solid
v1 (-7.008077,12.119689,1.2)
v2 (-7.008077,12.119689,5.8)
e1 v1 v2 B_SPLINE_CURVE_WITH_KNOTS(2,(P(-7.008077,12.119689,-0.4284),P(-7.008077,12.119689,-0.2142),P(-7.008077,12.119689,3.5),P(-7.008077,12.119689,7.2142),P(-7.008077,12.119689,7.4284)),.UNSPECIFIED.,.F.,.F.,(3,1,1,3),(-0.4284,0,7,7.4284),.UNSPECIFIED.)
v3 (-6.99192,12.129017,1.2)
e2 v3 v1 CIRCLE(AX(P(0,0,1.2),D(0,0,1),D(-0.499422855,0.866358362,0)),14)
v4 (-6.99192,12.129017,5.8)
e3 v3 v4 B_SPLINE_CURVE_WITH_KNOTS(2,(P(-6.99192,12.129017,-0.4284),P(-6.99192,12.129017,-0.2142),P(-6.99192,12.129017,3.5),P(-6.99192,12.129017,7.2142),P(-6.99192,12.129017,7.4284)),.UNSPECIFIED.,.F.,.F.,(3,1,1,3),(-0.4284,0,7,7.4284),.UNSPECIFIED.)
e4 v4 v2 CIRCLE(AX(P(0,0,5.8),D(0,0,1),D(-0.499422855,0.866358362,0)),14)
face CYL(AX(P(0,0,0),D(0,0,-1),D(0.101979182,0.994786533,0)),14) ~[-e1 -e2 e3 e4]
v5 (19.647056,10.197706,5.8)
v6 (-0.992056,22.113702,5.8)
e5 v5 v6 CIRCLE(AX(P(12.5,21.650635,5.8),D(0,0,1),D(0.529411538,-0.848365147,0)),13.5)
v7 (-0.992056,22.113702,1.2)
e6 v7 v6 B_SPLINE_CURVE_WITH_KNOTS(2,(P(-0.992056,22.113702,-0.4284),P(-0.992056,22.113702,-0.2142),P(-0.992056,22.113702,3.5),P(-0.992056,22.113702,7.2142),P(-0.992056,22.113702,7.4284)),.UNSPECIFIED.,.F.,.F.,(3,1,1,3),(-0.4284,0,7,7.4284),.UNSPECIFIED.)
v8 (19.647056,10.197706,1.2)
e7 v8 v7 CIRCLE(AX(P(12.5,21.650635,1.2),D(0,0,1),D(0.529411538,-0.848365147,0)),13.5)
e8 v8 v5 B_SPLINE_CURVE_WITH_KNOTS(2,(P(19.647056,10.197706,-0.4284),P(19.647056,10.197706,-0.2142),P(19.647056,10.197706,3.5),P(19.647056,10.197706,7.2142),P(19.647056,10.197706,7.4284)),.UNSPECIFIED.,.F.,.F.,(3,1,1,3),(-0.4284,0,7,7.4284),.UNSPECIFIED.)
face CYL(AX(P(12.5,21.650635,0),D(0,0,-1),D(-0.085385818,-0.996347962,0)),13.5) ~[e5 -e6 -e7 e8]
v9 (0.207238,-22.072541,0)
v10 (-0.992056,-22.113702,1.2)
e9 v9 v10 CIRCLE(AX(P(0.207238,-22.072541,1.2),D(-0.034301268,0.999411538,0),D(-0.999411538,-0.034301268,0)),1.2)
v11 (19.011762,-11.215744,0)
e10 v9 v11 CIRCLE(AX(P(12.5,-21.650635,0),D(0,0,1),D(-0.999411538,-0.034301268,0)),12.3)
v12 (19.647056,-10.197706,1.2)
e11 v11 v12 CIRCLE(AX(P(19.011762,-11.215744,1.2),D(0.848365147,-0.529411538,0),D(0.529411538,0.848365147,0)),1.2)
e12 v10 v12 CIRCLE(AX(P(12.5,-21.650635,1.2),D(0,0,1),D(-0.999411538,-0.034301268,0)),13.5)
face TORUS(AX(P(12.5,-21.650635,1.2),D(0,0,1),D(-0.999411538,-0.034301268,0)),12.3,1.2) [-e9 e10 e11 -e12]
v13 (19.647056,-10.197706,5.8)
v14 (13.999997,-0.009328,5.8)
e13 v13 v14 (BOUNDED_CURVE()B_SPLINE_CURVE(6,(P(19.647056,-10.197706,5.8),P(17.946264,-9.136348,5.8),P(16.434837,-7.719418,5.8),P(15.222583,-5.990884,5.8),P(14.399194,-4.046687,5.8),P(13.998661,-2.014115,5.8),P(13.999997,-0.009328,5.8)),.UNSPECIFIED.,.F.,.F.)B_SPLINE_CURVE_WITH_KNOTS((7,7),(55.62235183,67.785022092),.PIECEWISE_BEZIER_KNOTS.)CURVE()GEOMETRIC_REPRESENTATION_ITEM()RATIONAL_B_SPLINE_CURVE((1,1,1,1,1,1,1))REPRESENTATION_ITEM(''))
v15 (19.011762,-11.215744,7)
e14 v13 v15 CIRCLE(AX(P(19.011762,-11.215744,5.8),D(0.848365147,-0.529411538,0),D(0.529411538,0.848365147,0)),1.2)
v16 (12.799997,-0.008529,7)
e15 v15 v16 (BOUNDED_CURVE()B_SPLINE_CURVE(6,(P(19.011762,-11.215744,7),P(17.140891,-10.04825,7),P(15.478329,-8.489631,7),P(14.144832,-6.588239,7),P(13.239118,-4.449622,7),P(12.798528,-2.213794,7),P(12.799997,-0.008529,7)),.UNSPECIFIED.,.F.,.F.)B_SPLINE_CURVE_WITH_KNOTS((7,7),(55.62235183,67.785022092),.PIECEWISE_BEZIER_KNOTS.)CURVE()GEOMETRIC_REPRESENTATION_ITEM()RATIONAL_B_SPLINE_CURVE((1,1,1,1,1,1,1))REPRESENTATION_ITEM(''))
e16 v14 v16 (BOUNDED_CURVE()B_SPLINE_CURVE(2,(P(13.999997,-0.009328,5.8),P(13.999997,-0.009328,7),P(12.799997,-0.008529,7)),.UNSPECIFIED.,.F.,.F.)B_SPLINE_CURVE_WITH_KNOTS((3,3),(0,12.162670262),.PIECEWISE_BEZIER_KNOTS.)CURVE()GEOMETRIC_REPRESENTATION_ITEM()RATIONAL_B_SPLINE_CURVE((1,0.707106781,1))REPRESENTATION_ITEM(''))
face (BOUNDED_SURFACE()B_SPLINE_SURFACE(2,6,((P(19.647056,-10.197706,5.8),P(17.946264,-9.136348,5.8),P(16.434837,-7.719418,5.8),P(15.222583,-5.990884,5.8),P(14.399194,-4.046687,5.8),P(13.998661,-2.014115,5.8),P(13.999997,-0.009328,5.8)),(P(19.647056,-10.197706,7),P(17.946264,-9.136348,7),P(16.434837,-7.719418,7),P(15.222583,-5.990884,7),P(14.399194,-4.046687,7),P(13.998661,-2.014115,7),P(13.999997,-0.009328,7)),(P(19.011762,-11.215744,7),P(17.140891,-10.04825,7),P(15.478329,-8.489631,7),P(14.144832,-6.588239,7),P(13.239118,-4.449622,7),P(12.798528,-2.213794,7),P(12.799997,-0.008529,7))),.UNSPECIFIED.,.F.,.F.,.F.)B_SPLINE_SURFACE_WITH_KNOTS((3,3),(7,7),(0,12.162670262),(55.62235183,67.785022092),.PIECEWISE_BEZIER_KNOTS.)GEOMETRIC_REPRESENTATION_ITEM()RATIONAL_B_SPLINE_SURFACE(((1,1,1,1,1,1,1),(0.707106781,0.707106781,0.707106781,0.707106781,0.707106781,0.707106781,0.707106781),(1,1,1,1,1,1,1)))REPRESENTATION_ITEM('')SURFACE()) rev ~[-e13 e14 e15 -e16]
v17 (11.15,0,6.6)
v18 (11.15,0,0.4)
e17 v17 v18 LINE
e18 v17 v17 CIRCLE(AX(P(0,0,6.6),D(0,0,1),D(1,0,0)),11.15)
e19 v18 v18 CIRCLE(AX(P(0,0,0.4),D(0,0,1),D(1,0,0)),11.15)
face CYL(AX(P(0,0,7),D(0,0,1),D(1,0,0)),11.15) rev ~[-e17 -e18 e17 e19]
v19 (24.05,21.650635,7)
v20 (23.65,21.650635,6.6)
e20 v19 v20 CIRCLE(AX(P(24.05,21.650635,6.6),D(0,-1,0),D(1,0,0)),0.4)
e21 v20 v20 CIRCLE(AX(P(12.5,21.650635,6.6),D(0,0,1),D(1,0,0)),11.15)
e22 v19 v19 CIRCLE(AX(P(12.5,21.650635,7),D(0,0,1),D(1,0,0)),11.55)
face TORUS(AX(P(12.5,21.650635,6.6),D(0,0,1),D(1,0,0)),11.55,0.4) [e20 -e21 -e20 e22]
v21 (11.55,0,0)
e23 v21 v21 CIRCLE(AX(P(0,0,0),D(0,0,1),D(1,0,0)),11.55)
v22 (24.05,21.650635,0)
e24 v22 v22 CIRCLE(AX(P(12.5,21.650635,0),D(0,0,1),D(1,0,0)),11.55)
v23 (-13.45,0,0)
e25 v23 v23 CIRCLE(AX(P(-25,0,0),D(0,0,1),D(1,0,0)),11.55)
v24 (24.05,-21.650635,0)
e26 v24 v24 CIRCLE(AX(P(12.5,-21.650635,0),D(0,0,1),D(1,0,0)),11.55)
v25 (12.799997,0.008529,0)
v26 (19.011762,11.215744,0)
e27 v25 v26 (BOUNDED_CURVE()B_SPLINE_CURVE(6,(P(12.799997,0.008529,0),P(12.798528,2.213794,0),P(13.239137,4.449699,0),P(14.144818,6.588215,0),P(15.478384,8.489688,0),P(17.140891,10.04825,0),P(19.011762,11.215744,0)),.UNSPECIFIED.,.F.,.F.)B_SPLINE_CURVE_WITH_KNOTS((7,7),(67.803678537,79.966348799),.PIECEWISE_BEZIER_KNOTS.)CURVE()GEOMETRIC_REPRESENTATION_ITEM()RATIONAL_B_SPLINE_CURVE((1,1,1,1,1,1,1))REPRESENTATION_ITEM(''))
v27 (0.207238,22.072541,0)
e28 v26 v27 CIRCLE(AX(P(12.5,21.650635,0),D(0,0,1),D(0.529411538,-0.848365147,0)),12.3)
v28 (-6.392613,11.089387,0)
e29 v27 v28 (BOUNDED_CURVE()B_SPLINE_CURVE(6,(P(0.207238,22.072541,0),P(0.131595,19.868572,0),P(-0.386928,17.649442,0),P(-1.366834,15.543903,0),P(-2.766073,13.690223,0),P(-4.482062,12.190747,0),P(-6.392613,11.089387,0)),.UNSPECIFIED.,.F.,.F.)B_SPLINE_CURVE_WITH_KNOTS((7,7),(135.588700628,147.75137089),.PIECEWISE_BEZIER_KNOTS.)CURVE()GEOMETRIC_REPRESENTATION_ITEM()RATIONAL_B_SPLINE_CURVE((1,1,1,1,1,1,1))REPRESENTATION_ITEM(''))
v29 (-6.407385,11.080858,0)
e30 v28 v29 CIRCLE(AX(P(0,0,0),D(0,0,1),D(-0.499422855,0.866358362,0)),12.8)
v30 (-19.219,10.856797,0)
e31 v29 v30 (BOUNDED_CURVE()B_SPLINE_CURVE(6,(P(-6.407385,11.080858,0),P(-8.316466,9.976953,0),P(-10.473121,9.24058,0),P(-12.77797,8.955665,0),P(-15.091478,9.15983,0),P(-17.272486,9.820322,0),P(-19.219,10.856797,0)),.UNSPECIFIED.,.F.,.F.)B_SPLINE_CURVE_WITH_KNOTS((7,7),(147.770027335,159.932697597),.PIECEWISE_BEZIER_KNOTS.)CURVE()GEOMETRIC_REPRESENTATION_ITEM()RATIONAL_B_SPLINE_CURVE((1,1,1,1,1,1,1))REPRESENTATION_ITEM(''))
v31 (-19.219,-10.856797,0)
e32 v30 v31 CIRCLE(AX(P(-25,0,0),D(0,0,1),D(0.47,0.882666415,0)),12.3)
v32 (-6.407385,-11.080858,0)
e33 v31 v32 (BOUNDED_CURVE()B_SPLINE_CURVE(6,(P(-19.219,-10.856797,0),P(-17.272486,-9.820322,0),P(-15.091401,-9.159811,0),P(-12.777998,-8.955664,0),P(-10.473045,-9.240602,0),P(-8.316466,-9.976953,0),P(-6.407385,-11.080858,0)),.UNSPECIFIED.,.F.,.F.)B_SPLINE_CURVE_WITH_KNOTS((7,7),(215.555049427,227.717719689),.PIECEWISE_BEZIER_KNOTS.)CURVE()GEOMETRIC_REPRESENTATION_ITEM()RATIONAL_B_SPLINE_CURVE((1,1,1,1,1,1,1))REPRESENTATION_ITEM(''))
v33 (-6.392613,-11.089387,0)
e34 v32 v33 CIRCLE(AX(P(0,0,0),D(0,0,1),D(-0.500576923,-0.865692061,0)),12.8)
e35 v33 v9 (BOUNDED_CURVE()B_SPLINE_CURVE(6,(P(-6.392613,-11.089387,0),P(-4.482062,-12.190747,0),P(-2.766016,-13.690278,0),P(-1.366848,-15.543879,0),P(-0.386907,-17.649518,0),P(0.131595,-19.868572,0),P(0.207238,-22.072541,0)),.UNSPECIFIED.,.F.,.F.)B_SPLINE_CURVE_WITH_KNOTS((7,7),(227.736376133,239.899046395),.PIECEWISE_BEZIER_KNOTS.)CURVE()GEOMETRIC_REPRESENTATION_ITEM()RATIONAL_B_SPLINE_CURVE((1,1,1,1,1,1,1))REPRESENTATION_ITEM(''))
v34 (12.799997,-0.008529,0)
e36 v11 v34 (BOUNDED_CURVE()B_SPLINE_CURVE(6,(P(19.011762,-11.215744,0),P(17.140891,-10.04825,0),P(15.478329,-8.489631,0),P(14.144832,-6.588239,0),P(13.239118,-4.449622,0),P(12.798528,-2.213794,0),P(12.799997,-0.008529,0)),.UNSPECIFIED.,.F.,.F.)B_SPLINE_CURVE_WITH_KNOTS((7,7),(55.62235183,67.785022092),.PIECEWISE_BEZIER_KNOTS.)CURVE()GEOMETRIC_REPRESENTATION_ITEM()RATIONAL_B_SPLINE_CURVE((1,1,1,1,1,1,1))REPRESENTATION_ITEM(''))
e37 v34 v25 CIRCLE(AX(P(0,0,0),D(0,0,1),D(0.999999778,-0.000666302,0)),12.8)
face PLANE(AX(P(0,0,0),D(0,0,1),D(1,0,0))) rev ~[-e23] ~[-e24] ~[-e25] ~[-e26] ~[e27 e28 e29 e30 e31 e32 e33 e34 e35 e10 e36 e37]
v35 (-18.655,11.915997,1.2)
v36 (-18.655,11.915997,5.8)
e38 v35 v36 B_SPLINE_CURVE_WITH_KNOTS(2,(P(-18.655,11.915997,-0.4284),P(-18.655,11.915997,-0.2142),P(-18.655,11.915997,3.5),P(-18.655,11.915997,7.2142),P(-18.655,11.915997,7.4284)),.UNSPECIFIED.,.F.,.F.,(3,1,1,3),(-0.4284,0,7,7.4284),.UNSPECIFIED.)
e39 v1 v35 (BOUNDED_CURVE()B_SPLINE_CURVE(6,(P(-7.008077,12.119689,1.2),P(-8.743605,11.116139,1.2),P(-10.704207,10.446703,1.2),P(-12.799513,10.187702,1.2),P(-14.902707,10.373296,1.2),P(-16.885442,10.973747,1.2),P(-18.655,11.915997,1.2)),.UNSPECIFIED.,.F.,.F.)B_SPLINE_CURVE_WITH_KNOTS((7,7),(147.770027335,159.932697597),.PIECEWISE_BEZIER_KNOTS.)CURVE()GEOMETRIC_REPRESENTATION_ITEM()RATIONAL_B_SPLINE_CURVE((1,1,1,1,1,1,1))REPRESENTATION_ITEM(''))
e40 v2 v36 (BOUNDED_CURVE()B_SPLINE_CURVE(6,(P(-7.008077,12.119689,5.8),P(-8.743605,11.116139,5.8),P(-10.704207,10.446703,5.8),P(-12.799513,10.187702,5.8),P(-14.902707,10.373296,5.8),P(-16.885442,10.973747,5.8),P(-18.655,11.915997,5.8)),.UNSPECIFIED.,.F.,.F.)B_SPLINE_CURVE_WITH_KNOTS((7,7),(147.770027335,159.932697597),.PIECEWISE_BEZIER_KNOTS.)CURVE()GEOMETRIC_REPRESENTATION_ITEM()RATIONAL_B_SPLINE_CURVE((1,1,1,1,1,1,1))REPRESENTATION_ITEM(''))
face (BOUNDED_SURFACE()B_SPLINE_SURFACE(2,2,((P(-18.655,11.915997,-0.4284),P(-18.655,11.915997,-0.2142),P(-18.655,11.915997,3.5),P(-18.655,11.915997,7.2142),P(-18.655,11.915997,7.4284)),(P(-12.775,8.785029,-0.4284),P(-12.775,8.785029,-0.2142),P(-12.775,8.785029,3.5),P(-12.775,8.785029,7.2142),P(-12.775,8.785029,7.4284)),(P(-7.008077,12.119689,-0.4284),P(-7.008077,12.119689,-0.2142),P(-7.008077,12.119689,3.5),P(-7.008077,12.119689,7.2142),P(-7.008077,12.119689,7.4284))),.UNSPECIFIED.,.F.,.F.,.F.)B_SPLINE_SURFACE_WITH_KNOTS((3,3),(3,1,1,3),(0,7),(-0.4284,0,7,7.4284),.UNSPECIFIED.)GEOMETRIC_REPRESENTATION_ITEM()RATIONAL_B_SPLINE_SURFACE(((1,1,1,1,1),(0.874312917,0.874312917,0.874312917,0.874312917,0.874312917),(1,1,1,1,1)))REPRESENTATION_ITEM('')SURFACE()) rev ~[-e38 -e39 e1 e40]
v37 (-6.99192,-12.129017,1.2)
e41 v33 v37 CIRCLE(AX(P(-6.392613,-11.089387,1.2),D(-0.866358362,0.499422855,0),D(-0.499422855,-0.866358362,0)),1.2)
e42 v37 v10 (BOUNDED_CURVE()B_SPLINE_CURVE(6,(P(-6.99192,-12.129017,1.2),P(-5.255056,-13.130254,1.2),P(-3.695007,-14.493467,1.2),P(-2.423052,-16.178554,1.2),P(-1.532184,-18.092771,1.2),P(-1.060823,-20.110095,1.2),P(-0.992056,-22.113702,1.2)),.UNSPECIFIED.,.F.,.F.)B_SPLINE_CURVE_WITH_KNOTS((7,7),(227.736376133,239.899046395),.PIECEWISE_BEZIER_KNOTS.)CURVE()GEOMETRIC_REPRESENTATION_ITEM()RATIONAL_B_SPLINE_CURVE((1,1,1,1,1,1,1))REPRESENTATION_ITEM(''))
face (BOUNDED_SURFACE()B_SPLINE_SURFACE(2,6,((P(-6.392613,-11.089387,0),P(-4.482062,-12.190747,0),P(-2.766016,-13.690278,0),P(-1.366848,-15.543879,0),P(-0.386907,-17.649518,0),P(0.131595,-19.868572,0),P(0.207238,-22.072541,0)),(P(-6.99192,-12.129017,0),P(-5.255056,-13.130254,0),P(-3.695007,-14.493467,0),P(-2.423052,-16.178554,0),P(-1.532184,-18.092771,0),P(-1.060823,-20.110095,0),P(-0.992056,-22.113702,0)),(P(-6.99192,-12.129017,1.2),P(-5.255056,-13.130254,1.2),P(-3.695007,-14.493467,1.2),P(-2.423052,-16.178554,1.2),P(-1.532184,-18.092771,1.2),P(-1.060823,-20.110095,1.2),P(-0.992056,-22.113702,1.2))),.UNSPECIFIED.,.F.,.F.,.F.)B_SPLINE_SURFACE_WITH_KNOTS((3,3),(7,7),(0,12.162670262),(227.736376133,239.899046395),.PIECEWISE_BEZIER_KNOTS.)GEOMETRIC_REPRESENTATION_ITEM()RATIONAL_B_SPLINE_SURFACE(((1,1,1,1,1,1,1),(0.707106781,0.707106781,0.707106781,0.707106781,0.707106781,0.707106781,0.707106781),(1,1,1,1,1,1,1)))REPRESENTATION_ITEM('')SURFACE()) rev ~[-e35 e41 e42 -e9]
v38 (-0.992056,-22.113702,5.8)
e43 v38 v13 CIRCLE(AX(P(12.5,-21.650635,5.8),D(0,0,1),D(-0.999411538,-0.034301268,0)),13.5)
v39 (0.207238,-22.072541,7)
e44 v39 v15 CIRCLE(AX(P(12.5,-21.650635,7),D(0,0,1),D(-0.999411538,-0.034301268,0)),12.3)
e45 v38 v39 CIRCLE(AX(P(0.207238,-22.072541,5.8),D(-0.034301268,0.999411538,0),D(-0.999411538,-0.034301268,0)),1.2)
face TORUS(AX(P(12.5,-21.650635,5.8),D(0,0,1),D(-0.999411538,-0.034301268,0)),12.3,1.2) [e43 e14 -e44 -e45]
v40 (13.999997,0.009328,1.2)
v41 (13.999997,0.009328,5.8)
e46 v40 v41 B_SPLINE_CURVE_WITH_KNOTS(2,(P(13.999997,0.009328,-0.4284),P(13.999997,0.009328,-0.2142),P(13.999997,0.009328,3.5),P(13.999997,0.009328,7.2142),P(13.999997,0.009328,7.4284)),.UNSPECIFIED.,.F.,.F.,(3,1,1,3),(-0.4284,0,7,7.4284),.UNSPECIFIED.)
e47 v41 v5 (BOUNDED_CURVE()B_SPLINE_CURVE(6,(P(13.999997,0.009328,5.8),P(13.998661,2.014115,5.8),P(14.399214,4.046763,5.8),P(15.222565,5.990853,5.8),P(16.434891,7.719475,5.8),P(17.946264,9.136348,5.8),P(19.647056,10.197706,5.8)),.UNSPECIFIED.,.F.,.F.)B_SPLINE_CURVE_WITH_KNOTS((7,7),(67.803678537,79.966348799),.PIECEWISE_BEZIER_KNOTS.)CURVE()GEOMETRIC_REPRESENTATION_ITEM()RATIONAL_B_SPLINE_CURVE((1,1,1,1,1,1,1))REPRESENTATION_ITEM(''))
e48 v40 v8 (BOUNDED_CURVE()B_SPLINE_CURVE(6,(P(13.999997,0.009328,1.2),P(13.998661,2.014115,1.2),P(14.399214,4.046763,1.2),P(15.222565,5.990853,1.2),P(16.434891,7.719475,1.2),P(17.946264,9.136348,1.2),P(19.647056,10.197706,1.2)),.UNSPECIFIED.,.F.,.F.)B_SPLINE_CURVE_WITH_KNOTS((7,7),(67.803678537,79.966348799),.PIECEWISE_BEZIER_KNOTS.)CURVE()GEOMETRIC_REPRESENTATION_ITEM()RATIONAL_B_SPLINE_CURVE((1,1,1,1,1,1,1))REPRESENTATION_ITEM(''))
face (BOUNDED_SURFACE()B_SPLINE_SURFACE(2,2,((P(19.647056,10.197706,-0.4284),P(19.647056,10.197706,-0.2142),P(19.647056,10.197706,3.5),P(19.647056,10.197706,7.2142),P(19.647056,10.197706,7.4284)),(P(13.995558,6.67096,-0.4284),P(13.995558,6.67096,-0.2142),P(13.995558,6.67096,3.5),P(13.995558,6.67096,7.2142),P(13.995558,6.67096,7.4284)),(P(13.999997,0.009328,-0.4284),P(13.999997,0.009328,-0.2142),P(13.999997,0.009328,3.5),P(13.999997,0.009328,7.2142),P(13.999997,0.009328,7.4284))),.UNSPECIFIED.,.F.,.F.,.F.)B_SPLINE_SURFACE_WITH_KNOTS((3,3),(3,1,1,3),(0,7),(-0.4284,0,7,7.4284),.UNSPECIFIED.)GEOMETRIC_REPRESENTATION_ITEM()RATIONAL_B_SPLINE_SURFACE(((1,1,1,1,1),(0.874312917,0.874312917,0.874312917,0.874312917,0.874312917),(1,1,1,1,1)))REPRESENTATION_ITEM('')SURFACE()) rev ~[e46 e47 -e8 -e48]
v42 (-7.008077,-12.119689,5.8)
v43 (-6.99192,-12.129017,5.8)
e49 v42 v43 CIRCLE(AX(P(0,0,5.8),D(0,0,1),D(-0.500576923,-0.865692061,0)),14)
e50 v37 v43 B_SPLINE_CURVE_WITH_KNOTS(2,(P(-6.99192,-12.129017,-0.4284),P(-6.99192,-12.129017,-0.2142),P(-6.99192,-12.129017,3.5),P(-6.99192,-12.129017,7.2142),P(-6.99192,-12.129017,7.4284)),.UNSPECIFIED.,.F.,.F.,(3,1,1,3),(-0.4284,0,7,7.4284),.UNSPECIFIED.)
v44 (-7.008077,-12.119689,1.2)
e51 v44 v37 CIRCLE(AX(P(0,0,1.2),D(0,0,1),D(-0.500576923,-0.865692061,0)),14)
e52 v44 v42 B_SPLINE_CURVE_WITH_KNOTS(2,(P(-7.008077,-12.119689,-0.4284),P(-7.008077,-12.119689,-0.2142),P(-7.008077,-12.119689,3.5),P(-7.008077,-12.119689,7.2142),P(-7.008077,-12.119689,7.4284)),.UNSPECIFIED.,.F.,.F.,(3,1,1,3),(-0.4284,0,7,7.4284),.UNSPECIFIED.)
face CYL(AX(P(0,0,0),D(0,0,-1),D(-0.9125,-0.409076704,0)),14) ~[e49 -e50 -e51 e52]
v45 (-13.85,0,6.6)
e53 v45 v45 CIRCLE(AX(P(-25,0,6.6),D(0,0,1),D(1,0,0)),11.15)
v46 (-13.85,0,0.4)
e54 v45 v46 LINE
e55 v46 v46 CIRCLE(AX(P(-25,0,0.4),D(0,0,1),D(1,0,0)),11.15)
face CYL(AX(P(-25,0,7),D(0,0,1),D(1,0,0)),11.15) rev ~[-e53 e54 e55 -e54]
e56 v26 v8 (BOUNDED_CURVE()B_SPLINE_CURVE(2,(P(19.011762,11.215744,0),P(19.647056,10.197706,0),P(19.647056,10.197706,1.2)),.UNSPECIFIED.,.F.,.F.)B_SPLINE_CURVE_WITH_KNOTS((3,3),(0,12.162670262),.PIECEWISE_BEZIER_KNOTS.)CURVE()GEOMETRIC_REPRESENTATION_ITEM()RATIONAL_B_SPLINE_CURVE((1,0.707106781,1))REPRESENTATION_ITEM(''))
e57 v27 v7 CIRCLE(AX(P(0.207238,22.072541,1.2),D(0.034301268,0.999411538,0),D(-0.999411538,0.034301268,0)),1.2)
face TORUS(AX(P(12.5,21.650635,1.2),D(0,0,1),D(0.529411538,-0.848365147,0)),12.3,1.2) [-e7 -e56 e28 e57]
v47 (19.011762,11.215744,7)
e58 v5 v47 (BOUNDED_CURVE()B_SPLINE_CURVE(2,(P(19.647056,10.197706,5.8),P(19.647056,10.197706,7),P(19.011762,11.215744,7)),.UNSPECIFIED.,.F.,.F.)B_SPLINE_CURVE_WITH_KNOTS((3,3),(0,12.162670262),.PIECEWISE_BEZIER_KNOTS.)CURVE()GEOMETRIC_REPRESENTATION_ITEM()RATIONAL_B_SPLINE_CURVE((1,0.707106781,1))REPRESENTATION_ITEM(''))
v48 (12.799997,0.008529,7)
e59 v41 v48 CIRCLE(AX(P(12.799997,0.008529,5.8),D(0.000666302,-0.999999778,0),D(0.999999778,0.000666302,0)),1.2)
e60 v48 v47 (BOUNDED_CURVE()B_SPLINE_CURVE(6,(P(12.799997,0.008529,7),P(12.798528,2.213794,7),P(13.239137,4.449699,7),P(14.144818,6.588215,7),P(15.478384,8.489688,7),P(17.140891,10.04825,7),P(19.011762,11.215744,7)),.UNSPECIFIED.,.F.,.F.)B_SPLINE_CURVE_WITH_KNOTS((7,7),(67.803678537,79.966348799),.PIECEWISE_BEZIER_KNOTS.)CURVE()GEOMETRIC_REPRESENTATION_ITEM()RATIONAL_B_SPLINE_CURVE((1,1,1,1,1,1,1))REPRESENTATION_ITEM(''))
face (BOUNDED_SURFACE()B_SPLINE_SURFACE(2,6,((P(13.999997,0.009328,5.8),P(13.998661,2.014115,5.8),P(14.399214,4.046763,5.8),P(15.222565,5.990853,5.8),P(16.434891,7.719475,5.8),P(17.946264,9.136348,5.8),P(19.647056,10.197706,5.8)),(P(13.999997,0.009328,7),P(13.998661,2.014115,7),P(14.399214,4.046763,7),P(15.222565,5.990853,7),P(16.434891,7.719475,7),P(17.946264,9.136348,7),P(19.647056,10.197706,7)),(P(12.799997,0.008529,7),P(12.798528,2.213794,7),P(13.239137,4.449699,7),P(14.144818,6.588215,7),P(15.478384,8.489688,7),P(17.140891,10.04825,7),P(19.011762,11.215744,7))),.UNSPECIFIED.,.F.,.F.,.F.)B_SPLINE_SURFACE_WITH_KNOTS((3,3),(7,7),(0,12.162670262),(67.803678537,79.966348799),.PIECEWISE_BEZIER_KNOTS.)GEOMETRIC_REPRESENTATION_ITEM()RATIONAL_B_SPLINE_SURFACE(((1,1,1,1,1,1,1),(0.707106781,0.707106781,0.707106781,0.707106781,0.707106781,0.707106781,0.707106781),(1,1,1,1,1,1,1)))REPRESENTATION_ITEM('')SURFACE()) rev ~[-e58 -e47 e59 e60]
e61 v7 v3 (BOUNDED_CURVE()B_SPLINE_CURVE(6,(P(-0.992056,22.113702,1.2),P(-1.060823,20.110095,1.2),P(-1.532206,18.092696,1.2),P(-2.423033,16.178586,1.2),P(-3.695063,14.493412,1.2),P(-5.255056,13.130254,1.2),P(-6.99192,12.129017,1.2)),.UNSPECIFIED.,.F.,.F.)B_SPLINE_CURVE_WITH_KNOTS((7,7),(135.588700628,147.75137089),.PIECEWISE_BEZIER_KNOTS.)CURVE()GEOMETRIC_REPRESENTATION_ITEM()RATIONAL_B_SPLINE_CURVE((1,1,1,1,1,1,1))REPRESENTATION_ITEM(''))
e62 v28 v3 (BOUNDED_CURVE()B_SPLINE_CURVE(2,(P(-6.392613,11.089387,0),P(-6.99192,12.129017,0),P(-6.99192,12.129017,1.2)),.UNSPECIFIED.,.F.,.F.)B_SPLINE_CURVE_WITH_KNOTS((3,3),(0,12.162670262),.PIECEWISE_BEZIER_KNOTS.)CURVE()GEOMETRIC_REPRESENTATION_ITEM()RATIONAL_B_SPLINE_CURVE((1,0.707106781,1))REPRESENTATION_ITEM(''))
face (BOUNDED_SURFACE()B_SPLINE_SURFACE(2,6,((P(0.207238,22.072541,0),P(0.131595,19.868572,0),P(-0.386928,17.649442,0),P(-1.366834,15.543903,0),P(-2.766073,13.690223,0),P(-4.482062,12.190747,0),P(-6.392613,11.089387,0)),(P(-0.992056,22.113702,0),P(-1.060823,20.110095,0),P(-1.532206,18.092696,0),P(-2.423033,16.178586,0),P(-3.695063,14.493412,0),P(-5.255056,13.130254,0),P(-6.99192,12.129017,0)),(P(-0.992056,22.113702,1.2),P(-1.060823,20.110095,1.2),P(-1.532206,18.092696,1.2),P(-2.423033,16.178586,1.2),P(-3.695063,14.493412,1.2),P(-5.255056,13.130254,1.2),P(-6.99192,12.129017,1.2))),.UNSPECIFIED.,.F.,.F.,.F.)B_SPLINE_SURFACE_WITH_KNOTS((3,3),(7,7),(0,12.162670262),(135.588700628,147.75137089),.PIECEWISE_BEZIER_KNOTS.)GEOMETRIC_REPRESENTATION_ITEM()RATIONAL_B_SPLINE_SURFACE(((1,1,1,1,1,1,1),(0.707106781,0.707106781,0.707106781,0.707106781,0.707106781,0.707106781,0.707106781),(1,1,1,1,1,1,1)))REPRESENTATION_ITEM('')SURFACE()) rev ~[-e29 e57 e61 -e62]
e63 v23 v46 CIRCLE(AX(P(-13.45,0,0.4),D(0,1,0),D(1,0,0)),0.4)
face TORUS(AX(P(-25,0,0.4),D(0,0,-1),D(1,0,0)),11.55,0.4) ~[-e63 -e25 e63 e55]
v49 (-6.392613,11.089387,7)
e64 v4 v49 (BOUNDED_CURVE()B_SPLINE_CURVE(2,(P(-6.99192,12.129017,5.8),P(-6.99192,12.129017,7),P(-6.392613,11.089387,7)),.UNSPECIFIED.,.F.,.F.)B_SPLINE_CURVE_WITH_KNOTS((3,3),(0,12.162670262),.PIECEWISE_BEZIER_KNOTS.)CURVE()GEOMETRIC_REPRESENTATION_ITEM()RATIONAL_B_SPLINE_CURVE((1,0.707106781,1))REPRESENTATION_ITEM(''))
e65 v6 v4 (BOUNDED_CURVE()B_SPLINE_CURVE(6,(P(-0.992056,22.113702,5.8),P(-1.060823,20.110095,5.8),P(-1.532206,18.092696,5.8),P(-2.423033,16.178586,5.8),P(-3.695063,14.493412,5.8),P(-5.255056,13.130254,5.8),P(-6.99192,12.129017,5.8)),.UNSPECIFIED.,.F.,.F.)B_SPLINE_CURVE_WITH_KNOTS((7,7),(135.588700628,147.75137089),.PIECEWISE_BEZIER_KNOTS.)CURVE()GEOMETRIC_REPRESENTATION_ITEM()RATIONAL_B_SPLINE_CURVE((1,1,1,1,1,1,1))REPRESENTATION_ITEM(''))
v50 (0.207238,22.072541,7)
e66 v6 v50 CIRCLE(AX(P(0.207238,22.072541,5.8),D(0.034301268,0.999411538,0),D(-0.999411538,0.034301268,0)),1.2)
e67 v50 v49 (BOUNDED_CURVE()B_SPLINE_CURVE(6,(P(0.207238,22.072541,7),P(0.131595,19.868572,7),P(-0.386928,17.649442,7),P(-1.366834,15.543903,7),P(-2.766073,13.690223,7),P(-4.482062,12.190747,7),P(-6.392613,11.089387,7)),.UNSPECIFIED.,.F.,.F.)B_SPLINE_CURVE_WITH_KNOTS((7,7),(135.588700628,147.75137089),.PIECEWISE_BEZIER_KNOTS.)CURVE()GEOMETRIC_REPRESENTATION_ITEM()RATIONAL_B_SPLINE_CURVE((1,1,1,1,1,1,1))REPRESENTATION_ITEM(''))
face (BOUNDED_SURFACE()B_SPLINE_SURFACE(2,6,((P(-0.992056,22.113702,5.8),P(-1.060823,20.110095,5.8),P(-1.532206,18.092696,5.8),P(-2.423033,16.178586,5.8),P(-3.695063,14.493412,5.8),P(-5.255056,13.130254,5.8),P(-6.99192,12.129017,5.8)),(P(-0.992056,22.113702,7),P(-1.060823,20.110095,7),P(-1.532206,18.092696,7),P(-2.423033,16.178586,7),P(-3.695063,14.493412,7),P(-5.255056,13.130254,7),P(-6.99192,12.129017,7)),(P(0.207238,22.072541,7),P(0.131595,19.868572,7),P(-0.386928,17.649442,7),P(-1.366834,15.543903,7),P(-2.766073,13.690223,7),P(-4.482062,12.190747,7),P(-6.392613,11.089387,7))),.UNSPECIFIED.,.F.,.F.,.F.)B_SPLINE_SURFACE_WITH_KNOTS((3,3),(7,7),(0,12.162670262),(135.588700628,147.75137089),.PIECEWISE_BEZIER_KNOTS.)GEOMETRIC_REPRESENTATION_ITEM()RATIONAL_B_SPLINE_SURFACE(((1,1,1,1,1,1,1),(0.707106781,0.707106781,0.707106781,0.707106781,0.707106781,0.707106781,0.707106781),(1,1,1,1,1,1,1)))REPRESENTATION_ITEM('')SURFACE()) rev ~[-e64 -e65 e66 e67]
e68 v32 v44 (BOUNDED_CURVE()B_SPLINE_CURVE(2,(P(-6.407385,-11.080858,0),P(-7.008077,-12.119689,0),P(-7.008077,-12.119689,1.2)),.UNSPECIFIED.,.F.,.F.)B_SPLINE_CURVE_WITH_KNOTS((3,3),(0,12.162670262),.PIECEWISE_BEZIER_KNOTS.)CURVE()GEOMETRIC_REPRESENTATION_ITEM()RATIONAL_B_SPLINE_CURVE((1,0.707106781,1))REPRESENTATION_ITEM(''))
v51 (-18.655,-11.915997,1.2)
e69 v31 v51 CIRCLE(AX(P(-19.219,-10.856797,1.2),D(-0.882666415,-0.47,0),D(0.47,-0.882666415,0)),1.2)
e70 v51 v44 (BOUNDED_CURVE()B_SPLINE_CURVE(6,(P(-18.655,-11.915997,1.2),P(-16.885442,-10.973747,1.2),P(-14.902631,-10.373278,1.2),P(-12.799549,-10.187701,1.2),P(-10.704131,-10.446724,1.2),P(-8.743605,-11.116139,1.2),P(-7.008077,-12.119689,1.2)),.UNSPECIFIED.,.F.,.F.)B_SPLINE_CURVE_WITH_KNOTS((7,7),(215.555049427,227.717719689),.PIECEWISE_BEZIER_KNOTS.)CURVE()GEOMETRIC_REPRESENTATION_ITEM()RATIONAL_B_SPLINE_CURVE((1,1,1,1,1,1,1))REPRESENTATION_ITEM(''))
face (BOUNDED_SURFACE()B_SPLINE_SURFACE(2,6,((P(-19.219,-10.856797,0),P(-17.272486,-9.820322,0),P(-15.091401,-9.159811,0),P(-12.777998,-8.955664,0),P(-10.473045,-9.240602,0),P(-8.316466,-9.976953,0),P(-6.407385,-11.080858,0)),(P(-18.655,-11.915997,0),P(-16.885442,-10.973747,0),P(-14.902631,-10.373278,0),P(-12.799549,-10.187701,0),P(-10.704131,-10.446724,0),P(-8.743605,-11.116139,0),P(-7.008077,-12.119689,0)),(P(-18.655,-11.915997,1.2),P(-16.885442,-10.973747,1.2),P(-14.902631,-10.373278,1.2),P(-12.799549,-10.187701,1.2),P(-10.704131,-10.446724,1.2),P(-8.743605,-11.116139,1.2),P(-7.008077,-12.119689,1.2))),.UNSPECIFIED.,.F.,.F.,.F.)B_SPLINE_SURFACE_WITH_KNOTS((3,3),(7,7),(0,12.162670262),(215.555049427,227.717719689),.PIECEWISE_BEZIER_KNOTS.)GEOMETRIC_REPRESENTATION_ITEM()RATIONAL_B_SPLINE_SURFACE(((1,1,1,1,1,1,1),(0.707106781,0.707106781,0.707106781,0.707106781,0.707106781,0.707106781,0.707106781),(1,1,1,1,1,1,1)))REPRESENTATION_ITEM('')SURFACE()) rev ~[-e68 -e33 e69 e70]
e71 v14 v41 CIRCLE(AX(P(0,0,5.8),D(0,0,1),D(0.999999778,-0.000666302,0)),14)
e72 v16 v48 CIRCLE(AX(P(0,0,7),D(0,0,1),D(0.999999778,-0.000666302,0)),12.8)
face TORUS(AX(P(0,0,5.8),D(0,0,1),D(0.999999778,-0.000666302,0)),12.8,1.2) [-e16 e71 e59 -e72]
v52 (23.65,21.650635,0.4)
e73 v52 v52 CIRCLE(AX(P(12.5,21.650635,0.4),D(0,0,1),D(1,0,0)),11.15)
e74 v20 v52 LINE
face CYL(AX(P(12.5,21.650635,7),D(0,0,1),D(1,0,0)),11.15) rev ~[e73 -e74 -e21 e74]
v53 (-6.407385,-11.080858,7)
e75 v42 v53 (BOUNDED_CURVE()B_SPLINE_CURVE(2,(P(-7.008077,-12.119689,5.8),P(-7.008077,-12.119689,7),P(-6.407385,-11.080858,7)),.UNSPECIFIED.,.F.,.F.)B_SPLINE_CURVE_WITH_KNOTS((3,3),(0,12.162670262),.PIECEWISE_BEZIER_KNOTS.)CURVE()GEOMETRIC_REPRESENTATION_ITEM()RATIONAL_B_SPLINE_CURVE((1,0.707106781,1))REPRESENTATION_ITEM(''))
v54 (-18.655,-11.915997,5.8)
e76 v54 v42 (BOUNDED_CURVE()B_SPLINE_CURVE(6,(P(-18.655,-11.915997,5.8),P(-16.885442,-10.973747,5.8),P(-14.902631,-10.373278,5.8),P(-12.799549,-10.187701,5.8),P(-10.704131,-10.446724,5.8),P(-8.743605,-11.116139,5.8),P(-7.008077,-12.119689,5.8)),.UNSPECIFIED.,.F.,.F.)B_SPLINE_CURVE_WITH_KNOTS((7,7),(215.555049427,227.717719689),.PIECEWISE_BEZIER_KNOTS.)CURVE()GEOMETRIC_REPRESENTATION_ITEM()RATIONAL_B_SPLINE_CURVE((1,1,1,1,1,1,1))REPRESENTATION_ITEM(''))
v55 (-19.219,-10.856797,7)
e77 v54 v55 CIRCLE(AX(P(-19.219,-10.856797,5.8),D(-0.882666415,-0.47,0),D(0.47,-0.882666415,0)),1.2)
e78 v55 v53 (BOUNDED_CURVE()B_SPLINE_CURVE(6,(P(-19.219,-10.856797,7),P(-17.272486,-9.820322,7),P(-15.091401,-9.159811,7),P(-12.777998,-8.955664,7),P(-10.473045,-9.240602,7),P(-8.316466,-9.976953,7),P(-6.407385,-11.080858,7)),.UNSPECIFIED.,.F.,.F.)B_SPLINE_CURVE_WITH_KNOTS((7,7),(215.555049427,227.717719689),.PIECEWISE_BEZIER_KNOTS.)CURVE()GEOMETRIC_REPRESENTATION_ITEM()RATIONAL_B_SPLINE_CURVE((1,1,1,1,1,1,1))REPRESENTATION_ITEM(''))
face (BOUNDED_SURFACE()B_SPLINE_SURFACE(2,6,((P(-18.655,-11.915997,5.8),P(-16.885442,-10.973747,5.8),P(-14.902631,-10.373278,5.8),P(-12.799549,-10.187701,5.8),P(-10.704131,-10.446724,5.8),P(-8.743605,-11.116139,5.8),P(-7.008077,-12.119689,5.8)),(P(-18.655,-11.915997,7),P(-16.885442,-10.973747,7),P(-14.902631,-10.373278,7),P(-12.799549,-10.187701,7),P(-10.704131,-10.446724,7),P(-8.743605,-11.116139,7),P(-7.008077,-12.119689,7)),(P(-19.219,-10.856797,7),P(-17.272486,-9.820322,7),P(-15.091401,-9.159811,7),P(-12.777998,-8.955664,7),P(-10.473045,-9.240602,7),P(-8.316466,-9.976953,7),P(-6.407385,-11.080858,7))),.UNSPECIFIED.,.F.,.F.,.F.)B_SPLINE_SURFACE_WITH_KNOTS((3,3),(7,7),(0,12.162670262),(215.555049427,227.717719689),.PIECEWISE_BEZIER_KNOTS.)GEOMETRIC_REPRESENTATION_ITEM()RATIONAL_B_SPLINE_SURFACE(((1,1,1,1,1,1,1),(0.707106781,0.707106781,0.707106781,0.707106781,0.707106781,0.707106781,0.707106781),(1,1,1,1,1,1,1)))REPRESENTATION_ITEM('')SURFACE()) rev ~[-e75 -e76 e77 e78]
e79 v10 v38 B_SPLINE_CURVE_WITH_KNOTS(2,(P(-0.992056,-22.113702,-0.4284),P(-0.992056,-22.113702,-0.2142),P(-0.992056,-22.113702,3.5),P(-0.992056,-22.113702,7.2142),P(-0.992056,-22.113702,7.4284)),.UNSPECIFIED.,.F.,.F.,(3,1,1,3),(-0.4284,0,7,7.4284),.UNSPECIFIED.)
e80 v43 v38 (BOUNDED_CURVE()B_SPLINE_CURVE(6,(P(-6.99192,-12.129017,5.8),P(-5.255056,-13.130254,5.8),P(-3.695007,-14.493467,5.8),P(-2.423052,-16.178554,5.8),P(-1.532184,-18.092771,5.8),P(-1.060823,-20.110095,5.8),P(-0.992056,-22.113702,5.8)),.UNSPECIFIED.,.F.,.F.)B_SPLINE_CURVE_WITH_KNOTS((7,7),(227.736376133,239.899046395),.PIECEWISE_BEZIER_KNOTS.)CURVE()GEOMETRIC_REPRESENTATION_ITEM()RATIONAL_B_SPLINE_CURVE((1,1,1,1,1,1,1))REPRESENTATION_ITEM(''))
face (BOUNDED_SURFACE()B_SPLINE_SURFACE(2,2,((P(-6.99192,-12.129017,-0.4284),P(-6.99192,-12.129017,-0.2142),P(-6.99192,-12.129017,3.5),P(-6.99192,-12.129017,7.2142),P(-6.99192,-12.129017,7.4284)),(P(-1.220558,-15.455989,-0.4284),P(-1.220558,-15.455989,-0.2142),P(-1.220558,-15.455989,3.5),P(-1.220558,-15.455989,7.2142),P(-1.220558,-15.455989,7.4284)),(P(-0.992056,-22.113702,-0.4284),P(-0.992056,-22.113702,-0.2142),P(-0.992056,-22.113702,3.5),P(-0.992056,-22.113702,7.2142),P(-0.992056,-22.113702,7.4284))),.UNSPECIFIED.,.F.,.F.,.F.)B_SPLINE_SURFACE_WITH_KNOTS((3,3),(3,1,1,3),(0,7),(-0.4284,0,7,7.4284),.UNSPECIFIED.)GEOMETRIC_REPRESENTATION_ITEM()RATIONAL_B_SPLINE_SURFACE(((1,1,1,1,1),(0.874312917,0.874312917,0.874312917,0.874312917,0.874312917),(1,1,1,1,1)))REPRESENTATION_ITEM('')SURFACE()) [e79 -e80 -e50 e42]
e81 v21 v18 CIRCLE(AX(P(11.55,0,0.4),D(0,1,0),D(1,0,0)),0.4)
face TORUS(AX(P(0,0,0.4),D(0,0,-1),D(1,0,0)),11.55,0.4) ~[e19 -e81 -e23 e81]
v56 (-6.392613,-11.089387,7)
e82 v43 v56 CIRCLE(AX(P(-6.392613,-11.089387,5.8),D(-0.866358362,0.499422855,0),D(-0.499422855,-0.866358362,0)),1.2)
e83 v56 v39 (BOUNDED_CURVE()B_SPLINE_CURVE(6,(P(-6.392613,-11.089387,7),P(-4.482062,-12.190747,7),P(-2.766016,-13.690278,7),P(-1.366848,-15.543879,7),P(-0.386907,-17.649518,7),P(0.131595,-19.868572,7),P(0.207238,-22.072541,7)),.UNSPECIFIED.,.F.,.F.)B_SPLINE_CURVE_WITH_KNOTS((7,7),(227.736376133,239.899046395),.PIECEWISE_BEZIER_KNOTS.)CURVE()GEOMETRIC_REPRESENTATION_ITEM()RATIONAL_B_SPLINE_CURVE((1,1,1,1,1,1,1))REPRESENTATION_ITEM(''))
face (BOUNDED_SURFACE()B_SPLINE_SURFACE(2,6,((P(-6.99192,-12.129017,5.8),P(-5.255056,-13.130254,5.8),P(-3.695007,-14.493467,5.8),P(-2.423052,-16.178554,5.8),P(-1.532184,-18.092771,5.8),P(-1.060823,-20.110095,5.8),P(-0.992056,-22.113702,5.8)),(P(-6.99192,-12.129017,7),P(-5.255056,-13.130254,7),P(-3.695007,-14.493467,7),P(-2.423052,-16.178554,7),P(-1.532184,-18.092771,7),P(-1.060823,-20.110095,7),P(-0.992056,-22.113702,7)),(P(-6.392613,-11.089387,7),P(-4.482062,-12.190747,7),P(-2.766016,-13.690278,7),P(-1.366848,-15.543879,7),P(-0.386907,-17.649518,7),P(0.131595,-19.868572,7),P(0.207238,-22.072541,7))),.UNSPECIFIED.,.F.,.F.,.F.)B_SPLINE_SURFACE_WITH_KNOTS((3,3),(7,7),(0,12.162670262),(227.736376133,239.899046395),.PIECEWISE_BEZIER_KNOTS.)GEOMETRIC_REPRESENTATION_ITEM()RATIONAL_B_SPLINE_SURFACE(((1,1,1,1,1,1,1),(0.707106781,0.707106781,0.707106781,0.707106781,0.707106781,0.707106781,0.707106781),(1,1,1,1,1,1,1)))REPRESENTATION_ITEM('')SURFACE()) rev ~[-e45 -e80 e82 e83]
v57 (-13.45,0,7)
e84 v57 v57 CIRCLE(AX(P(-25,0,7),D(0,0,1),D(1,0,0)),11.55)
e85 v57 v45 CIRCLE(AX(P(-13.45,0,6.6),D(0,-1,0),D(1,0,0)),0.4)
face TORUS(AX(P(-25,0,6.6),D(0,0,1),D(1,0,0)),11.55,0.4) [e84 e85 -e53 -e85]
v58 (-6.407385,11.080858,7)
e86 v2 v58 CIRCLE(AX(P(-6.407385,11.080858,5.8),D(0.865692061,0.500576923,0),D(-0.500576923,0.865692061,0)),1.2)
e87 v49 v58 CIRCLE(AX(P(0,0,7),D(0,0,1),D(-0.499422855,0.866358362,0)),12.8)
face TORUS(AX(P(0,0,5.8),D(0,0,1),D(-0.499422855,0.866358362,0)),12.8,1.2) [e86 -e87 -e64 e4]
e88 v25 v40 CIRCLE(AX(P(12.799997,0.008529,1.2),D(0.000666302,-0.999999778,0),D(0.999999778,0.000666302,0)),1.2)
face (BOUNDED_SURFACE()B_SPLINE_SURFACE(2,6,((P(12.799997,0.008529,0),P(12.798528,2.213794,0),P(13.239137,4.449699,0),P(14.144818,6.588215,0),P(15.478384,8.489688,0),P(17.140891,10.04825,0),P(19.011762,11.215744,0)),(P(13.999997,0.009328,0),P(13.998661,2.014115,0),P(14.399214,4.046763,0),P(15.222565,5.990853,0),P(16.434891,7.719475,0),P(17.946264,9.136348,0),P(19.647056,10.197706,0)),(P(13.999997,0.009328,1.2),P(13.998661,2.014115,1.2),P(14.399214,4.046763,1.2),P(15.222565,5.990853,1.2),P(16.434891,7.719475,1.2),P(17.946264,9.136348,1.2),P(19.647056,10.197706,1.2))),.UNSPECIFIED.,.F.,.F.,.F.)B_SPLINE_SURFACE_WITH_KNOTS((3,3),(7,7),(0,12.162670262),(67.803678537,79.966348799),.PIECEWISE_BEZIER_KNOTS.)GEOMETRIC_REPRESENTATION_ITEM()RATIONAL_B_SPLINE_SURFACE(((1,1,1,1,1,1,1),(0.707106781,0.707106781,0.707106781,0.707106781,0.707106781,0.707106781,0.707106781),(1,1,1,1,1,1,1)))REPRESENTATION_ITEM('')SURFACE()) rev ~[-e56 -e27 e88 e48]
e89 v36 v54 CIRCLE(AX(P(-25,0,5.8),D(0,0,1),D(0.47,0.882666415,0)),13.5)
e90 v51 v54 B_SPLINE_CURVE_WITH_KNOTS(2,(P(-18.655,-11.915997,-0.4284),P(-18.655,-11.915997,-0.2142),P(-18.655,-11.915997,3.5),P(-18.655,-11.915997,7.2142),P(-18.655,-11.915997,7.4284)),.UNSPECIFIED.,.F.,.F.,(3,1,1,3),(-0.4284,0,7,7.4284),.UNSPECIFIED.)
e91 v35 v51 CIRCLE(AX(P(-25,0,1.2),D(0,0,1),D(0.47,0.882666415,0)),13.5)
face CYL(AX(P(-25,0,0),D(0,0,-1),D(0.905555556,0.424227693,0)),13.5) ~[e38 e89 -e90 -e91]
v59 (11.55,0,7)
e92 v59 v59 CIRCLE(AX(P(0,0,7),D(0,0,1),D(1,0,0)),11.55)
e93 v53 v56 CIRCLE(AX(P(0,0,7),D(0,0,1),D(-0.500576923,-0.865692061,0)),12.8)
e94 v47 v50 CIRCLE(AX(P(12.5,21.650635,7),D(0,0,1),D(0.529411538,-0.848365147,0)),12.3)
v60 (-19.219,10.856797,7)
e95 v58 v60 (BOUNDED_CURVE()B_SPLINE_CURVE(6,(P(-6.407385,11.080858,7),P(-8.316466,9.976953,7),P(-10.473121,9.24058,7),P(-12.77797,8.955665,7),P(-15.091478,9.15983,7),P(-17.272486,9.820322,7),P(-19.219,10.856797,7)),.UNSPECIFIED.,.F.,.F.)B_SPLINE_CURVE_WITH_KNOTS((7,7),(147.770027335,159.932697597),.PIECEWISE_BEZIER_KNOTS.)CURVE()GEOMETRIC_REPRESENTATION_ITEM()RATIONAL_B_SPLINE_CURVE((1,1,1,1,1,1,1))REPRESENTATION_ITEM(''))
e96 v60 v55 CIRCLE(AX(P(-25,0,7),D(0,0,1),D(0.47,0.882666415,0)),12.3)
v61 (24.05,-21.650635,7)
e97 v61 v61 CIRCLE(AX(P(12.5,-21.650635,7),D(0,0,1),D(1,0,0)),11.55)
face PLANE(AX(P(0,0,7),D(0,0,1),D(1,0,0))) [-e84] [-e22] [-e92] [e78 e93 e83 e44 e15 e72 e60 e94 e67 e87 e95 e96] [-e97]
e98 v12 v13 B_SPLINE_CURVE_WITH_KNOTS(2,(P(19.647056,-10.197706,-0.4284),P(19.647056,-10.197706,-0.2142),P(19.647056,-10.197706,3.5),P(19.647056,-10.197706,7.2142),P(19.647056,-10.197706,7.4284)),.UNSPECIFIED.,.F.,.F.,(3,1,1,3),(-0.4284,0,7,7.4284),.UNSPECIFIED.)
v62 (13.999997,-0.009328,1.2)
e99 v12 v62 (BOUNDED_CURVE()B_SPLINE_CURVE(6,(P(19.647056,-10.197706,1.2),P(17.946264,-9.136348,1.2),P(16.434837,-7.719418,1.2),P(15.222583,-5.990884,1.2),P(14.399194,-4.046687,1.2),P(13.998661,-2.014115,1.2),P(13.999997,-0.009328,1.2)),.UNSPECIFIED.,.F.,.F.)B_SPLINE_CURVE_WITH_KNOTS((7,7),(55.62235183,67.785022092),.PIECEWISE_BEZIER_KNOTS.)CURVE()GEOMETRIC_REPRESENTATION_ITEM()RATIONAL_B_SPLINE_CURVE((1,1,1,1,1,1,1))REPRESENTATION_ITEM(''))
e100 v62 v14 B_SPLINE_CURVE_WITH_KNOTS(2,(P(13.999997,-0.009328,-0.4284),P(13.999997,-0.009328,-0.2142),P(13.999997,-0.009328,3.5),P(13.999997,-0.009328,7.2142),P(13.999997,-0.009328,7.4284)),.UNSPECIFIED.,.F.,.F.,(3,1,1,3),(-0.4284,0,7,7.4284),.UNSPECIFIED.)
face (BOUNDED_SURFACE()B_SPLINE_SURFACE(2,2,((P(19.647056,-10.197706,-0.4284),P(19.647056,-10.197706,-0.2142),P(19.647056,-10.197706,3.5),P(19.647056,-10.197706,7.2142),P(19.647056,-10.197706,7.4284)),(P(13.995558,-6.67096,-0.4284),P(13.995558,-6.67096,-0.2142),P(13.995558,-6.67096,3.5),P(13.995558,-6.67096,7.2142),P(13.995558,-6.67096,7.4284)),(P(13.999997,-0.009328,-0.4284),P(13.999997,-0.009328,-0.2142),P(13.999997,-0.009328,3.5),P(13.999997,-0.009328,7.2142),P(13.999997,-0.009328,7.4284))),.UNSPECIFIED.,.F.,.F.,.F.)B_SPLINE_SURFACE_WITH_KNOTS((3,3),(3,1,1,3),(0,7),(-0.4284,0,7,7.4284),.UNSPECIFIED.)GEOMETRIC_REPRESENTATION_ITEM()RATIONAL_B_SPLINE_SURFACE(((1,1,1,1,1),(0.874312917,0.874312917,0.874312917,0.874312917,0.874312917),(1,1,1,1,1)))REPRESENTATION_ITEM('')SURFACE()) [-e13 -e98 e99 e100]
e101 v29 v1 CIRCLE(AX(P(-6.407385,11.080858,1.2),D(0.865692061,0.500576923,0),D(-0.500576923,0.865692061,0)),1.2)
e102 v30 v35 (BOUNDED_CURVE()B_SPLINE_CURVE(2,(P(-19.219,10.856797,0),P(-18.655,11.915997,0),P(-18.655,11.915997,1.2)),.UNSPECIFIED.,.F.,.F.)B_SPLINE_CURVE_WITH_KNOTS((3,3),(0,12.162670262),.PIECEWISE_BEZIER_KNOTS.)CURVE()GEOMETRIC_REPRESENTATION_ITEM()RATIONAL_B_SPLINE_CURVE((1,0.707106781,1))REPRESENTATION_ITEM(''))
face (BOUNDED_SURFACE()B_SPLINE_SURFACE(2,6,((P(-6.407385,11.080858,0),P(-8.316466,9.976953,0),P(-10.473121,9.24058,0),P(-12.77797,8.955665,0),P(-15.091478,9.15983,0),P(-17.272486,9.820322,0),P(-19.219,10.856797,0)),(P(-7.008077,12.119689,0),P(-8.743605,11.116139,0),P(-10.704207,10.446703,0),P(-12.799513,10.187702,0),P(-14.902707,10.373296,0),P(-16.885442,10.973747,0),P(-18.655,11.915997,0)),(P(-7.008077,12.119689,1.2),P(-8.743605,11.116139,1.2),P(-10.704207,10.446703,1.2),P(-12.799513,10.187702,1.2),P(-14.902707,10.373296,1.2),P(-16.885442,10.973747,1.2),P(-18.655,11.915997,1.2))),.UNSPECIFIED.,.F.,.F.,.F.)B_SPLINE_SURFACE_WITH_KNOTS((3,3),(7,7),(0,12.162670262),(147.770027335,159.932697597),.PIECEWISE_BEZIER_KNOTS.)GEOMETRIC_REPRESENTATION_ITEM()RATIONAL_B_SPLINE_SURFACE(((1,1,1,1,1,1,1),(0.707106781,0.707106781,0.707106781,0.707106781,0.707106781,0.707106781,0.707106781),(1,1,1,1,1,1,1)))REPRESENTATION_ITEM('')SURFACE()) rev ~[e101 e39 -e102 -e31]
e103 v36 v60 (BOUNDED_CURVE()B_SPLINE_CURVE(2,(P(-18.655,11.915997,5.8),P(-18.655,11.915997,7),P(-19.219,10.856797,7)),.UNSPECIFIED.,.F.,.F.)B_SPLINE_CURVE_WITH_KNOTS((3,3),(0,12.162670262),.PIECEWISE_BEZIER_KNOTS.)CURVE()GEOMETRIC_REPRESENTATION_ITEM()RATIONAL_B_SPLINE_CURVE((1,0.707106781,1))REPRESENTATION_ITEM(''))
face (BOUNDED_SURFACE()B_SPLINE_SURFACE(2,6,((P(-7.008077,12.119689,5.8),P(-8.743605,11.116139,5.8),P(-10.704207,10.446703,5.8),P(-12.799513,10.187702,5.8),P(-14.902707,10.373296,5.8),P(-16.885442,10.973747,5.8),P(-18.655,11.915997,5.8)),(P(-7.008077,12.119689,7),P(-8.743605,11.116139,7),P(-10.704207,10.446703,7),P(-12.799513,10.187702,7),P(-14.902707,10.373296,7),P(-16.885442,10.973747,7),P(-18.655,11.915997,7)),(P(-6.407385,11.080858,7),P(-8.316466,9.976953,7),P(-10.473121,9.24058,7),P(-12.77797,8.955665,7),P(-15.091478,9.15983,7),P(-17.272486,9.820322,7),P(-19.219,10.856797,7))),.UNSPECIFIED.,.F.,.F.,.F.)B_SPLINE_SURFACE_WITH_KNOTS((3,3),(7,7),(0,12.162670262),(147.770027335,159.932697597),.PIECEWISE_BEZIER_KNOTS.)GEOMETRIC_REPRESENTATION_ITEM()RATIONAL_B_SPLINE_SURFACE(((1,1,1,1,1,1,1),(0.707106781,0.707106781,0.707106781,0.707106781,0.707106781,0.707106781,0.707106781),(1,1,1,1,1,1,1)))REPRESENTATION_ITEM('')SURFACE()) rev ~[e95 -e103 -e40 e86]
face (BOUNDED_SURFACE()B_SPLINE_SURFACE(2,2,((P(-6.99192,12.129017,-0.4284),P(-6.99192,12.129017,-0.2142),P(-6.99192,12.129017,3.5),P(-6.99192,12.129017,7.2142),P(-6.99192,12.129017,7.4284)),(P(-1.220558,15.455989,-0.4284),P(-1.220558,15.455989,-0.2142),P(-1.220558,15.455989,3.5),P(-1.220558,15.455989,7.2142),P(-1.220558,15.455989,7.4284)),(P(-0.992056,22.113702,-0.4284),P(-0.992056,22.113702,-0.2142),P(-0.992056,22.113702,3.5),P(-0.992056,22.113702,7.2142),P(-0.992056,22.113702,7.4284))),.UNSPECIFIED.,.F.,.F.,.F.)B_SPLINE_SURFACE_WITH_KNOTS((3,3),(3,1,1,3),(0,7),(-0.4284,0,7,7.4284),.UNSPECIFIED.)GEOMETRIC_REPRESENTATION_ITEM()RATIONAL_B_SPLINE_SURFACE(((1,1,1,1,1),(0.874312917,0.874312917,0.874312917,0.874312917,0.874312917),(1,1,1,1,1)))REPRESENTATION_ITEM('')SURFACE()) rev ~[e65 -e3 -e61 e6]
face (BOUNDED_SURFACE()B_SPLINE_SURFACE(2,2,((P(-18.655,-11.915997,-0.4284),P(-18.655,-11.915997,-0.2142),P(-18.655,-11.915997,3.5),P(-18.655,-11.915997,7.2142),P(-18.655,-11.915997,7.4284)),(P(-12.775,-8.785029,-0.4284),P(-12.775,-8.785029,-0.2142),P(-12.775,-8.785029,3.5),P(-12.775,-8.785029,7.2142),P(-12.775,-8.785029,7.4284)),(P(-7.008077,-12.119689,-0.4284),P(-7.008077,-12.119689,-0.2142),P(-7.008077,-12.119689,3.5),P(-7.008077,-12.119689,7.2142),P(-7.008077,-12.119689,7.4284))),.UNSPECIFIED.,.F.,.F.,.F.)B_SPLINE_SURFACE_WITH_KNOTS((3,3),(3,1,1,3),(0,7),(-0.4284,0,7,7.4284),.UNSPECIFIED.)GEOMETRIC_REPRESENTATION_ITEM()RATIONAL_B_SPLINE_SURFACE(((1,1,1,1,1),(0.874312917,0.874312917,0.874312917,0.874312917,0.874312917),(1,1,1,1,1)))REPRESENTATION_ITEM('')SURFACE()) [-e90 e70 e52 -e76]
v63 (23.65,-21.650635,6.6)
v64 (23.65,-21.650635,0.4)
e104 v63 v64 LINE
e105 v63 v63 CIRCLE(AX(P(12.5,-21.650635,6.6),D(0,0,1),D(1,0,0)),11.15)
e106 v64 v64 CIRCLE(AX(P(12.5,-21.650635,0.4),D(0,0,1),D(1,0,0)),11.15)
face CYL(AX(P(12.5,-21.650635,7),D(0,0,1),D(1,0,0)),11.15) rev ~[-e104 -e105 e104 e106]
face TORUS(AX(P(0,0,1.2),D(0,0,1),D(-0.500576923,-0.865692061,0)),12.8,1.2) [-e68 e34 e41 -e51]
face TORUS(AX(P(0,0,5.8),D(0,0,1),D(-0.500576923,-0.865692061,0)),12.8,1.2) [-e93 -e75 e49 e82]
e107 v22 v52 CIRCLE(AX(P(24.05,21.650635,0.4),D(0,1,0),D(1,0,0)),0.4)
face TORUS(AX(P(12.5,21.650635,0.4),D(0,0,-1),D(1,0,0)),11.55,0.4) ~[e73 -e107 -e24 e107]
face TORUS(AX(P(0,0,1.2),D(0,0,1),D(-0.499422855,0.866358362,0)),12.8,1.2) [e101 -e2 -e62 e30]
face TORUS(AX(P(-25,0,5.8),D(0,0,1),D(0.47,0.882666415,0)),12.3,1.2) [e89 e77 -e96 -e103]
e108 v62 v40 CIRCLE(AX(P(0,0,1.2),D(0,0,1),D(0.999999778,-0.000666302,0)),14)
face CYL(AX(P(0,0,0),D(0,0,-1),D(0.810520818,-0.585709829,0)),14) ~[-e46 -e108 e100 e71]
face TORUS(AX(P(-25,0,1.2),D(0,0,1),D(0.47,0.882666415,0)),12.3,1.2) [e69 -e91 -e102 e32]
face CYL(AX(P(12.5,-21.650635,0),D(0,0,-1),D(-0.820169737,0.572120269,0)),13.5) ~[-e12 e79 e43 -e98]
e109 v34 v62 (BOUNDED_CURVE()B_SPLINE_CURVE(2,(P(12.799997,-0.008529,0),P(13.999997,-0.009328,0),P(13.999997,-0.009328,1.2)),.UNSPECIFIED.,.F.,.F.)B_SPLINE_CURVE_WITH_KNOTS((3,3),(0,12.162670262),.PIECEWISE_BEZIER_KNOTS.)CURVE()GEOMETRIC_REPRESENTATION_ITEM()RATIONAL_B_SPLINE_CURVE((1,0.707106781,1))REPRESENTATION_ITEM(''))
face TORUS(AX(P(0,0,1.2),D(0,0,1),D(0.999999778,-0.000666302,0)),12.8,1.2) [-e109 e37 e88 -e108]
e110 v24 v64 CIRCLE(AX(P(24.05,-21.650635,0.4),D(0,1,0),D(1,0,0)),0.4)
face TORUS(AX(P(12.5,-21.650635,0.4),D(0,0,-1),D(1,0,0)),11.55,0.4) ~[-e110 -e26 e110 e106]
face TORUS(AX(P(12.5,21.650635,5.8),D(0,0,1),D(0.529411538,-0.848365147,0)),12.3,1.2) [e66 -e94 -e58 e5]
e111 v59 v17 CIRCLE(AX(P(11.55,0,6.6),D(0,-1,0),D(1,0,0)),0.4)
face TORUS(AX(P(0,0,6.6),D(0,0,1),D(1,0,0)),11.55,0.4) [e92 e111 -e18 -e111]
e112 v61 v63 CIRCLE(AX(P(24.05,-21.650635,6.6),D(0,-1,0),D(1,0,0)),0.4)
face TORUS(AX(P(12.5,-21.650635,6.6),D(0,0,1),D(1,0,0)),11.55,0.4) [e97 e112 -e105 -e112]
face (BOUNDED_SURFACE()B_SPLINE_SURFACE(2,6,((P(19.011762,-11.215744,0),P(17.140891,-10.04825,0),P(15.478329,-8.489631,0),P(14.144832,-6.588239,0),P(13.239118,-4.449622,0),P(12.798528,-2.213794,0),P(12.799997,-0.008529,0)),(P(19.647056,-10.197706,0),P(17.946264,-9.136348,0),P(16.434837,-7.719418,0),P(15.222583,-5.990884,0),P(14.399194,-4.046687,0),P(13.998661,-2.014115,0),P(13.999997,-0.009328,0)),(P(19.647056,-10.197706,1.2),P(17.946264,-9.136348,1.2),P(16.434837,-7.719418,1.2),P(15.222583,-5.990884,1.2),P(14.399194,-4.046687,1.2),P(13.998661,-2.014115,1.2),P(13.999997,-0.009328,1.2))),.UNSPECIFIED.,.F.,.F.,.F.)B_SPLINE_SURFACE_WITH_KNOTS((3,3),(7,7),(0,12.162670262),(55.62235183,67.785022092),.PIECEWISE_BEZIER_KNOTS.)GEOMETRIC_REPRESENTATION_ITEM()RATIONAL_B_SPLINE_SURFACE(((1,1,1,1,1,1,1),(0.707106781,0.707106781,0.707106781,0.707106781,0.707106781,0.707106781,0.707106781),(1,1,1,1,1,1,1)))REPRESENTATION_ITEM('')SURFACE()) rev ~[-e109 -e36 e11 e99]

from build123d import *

# Parameters (mm, degrees)
F1_DEPTH = 7
F2_R     = 11.15
F3_DEPTH = 7.001
F4_R     = 11.15
F5_DEPTH = 7.001
F6_R     = 12
F7_R     = 0.4
F8_R     = 1.2


with BuildPart() as f1:
    # F0 (on Top) → F1 (new body)
    with BuildSketch(Plane.XY):
        with BuildLine():
            ThreePointArc((-12.775, 5.7270738602), (-38.5, 0), (-12.775, -5.7270738602))
            ThreePointArc((-12.775, -5.7270738602), (-7, -12.124355653), (1.4277085477, -13.9270114634))
            ThreePointArc((1.4277085477, -13.9270114634), (19.25, -33.3419780457), (11.3472914523, -8.1999376033))
            ThreePointArc((11.3472914523, -8.1999376033), (14, 0), (11.3472914523, 8.1999376033))
            ThreePointArc((11.3472914523, 8.1999376033), (19.25, 33.3419780457), (1.4277085477, 13.9270114634))
            ThreePointArc((1.4277085477, 13.9270114634), (-7, 12.124355653), (-12.775, 5.7270738602))
        make_face()
    extrude(amount=F1_DEPTH)

    # F2 (on face) → F3 (cut, through all)
    with BuildSketch(Plane.XY.offset(7)):
        Circle(F2_R)
    extrude(amount=-F3_DEPTH, mode=Mode.SUBTRACT)

    # F4 (on face) → F5 (cut, through all)
    with BuildSketch(Plane.XY.offset(7)):
        with Locations((-25, 0)):
            Circle(F4_R)
        with Locations((12.5, -21.6506350946)):
            Circle(F4_R)
        with Locations((12.5, 21.6506350946)):
            Circle(F4_R)
    extrude(amount=-F5_DEPTH, mode=Mode.SUBTRACT)

    # F6
    f6_edges = [f1.edges().sort_by_distance(p)[0] for p in [
        (-12.775, -5.727074, 3.5),
        (1.427709, -13.927011, 3.5),
        (11.347291, -8.199938, 3.5),
        (11.347291, 8.199938, 3.5),
        (-12.775, 5.727074, 3.5),
        (1.427709, 13.927011, 3.5),
    ]]
    fillet(f6_edges, radius=F6_R)

    # F7
    f7_edges = [f1.edges().sort_by_distance(p)[0] for p in [
        (-11.15, 0, 7),
        (11.15, 0, 3.5),
        (-11.15, 0, 0),
        (-36.15, 0, 7),
        (-36.15, 0, 0),
        (1.35, 21.650635, 7),
        (23.65, 21.650635, 3.5),
        (1.35, 21.650635, 0),
        (1.35, -21.650635, 7),
        (23.65, -21.650635, 3.5),
        (1.35, -21.650635, 0),
    ]]
    fillet(f7_edges, radius=F7_R)

    # F8
    f8_edges = [f1.edges().sort_by_distance(p)[0] for p in [
        (19.25, -33.341978, 0),
        (-0.992056, -22.113702, 3.5),
        (19.647056, -10.197706, 3.5),
        (19.25, -33.341978, 7),
        (14, 0, 0),
        (13.999997, -0.009328, 3.5),
        (13.999997, 0.009328, 3.5),
        (14, 0, 7),
        (15.504361, -5.834684, 0),
        (15.504361, -5.834684, 7),
        (15.504361, 5.834684, 0),
        (19.647056, 10.197706, 3.5),
        (15.504361, 5.834684, 7),
        (19.25, 33.341978, 0),
        (-0.992056, 22.113702, 3.5),
        (19.25, 33.341978, 7),
        (-2.699196, 16.344512, 0),
        (-6.99192, 12.129017, 3.5),
        (-2.699196, 16.344512, 7),
        (-7, 12.124356, 0),
        (-7.008077, 12.119689, 3.5),
        (-7, 12.124356, 7),
        (-12.805165, 10.509828, 0),
        (-18.655, 11.915997, 3.5),
        (-12.805165, 10.509828, 7),
        (-38.5, 0, 0),
        (-18.655, -11.915997, 3.5),
        (-38.5, 0, 7),
        (-12.805165, -10.509828, 0),
        (-7.008077, -12.119689, 3.5),
        (-12.805165, -10.509828, 7),
        (-7, -12.124356, 0),
        (-6.99192, -12.129017, 3.5),
        (-7, -12.124356, 7),
        (-2.699196, -16.344512, 0),
        (-2.699196, -16.344512, 7),
    ]]
    fillet(f8_edges, radius=F8_R)


solid = f1.part
